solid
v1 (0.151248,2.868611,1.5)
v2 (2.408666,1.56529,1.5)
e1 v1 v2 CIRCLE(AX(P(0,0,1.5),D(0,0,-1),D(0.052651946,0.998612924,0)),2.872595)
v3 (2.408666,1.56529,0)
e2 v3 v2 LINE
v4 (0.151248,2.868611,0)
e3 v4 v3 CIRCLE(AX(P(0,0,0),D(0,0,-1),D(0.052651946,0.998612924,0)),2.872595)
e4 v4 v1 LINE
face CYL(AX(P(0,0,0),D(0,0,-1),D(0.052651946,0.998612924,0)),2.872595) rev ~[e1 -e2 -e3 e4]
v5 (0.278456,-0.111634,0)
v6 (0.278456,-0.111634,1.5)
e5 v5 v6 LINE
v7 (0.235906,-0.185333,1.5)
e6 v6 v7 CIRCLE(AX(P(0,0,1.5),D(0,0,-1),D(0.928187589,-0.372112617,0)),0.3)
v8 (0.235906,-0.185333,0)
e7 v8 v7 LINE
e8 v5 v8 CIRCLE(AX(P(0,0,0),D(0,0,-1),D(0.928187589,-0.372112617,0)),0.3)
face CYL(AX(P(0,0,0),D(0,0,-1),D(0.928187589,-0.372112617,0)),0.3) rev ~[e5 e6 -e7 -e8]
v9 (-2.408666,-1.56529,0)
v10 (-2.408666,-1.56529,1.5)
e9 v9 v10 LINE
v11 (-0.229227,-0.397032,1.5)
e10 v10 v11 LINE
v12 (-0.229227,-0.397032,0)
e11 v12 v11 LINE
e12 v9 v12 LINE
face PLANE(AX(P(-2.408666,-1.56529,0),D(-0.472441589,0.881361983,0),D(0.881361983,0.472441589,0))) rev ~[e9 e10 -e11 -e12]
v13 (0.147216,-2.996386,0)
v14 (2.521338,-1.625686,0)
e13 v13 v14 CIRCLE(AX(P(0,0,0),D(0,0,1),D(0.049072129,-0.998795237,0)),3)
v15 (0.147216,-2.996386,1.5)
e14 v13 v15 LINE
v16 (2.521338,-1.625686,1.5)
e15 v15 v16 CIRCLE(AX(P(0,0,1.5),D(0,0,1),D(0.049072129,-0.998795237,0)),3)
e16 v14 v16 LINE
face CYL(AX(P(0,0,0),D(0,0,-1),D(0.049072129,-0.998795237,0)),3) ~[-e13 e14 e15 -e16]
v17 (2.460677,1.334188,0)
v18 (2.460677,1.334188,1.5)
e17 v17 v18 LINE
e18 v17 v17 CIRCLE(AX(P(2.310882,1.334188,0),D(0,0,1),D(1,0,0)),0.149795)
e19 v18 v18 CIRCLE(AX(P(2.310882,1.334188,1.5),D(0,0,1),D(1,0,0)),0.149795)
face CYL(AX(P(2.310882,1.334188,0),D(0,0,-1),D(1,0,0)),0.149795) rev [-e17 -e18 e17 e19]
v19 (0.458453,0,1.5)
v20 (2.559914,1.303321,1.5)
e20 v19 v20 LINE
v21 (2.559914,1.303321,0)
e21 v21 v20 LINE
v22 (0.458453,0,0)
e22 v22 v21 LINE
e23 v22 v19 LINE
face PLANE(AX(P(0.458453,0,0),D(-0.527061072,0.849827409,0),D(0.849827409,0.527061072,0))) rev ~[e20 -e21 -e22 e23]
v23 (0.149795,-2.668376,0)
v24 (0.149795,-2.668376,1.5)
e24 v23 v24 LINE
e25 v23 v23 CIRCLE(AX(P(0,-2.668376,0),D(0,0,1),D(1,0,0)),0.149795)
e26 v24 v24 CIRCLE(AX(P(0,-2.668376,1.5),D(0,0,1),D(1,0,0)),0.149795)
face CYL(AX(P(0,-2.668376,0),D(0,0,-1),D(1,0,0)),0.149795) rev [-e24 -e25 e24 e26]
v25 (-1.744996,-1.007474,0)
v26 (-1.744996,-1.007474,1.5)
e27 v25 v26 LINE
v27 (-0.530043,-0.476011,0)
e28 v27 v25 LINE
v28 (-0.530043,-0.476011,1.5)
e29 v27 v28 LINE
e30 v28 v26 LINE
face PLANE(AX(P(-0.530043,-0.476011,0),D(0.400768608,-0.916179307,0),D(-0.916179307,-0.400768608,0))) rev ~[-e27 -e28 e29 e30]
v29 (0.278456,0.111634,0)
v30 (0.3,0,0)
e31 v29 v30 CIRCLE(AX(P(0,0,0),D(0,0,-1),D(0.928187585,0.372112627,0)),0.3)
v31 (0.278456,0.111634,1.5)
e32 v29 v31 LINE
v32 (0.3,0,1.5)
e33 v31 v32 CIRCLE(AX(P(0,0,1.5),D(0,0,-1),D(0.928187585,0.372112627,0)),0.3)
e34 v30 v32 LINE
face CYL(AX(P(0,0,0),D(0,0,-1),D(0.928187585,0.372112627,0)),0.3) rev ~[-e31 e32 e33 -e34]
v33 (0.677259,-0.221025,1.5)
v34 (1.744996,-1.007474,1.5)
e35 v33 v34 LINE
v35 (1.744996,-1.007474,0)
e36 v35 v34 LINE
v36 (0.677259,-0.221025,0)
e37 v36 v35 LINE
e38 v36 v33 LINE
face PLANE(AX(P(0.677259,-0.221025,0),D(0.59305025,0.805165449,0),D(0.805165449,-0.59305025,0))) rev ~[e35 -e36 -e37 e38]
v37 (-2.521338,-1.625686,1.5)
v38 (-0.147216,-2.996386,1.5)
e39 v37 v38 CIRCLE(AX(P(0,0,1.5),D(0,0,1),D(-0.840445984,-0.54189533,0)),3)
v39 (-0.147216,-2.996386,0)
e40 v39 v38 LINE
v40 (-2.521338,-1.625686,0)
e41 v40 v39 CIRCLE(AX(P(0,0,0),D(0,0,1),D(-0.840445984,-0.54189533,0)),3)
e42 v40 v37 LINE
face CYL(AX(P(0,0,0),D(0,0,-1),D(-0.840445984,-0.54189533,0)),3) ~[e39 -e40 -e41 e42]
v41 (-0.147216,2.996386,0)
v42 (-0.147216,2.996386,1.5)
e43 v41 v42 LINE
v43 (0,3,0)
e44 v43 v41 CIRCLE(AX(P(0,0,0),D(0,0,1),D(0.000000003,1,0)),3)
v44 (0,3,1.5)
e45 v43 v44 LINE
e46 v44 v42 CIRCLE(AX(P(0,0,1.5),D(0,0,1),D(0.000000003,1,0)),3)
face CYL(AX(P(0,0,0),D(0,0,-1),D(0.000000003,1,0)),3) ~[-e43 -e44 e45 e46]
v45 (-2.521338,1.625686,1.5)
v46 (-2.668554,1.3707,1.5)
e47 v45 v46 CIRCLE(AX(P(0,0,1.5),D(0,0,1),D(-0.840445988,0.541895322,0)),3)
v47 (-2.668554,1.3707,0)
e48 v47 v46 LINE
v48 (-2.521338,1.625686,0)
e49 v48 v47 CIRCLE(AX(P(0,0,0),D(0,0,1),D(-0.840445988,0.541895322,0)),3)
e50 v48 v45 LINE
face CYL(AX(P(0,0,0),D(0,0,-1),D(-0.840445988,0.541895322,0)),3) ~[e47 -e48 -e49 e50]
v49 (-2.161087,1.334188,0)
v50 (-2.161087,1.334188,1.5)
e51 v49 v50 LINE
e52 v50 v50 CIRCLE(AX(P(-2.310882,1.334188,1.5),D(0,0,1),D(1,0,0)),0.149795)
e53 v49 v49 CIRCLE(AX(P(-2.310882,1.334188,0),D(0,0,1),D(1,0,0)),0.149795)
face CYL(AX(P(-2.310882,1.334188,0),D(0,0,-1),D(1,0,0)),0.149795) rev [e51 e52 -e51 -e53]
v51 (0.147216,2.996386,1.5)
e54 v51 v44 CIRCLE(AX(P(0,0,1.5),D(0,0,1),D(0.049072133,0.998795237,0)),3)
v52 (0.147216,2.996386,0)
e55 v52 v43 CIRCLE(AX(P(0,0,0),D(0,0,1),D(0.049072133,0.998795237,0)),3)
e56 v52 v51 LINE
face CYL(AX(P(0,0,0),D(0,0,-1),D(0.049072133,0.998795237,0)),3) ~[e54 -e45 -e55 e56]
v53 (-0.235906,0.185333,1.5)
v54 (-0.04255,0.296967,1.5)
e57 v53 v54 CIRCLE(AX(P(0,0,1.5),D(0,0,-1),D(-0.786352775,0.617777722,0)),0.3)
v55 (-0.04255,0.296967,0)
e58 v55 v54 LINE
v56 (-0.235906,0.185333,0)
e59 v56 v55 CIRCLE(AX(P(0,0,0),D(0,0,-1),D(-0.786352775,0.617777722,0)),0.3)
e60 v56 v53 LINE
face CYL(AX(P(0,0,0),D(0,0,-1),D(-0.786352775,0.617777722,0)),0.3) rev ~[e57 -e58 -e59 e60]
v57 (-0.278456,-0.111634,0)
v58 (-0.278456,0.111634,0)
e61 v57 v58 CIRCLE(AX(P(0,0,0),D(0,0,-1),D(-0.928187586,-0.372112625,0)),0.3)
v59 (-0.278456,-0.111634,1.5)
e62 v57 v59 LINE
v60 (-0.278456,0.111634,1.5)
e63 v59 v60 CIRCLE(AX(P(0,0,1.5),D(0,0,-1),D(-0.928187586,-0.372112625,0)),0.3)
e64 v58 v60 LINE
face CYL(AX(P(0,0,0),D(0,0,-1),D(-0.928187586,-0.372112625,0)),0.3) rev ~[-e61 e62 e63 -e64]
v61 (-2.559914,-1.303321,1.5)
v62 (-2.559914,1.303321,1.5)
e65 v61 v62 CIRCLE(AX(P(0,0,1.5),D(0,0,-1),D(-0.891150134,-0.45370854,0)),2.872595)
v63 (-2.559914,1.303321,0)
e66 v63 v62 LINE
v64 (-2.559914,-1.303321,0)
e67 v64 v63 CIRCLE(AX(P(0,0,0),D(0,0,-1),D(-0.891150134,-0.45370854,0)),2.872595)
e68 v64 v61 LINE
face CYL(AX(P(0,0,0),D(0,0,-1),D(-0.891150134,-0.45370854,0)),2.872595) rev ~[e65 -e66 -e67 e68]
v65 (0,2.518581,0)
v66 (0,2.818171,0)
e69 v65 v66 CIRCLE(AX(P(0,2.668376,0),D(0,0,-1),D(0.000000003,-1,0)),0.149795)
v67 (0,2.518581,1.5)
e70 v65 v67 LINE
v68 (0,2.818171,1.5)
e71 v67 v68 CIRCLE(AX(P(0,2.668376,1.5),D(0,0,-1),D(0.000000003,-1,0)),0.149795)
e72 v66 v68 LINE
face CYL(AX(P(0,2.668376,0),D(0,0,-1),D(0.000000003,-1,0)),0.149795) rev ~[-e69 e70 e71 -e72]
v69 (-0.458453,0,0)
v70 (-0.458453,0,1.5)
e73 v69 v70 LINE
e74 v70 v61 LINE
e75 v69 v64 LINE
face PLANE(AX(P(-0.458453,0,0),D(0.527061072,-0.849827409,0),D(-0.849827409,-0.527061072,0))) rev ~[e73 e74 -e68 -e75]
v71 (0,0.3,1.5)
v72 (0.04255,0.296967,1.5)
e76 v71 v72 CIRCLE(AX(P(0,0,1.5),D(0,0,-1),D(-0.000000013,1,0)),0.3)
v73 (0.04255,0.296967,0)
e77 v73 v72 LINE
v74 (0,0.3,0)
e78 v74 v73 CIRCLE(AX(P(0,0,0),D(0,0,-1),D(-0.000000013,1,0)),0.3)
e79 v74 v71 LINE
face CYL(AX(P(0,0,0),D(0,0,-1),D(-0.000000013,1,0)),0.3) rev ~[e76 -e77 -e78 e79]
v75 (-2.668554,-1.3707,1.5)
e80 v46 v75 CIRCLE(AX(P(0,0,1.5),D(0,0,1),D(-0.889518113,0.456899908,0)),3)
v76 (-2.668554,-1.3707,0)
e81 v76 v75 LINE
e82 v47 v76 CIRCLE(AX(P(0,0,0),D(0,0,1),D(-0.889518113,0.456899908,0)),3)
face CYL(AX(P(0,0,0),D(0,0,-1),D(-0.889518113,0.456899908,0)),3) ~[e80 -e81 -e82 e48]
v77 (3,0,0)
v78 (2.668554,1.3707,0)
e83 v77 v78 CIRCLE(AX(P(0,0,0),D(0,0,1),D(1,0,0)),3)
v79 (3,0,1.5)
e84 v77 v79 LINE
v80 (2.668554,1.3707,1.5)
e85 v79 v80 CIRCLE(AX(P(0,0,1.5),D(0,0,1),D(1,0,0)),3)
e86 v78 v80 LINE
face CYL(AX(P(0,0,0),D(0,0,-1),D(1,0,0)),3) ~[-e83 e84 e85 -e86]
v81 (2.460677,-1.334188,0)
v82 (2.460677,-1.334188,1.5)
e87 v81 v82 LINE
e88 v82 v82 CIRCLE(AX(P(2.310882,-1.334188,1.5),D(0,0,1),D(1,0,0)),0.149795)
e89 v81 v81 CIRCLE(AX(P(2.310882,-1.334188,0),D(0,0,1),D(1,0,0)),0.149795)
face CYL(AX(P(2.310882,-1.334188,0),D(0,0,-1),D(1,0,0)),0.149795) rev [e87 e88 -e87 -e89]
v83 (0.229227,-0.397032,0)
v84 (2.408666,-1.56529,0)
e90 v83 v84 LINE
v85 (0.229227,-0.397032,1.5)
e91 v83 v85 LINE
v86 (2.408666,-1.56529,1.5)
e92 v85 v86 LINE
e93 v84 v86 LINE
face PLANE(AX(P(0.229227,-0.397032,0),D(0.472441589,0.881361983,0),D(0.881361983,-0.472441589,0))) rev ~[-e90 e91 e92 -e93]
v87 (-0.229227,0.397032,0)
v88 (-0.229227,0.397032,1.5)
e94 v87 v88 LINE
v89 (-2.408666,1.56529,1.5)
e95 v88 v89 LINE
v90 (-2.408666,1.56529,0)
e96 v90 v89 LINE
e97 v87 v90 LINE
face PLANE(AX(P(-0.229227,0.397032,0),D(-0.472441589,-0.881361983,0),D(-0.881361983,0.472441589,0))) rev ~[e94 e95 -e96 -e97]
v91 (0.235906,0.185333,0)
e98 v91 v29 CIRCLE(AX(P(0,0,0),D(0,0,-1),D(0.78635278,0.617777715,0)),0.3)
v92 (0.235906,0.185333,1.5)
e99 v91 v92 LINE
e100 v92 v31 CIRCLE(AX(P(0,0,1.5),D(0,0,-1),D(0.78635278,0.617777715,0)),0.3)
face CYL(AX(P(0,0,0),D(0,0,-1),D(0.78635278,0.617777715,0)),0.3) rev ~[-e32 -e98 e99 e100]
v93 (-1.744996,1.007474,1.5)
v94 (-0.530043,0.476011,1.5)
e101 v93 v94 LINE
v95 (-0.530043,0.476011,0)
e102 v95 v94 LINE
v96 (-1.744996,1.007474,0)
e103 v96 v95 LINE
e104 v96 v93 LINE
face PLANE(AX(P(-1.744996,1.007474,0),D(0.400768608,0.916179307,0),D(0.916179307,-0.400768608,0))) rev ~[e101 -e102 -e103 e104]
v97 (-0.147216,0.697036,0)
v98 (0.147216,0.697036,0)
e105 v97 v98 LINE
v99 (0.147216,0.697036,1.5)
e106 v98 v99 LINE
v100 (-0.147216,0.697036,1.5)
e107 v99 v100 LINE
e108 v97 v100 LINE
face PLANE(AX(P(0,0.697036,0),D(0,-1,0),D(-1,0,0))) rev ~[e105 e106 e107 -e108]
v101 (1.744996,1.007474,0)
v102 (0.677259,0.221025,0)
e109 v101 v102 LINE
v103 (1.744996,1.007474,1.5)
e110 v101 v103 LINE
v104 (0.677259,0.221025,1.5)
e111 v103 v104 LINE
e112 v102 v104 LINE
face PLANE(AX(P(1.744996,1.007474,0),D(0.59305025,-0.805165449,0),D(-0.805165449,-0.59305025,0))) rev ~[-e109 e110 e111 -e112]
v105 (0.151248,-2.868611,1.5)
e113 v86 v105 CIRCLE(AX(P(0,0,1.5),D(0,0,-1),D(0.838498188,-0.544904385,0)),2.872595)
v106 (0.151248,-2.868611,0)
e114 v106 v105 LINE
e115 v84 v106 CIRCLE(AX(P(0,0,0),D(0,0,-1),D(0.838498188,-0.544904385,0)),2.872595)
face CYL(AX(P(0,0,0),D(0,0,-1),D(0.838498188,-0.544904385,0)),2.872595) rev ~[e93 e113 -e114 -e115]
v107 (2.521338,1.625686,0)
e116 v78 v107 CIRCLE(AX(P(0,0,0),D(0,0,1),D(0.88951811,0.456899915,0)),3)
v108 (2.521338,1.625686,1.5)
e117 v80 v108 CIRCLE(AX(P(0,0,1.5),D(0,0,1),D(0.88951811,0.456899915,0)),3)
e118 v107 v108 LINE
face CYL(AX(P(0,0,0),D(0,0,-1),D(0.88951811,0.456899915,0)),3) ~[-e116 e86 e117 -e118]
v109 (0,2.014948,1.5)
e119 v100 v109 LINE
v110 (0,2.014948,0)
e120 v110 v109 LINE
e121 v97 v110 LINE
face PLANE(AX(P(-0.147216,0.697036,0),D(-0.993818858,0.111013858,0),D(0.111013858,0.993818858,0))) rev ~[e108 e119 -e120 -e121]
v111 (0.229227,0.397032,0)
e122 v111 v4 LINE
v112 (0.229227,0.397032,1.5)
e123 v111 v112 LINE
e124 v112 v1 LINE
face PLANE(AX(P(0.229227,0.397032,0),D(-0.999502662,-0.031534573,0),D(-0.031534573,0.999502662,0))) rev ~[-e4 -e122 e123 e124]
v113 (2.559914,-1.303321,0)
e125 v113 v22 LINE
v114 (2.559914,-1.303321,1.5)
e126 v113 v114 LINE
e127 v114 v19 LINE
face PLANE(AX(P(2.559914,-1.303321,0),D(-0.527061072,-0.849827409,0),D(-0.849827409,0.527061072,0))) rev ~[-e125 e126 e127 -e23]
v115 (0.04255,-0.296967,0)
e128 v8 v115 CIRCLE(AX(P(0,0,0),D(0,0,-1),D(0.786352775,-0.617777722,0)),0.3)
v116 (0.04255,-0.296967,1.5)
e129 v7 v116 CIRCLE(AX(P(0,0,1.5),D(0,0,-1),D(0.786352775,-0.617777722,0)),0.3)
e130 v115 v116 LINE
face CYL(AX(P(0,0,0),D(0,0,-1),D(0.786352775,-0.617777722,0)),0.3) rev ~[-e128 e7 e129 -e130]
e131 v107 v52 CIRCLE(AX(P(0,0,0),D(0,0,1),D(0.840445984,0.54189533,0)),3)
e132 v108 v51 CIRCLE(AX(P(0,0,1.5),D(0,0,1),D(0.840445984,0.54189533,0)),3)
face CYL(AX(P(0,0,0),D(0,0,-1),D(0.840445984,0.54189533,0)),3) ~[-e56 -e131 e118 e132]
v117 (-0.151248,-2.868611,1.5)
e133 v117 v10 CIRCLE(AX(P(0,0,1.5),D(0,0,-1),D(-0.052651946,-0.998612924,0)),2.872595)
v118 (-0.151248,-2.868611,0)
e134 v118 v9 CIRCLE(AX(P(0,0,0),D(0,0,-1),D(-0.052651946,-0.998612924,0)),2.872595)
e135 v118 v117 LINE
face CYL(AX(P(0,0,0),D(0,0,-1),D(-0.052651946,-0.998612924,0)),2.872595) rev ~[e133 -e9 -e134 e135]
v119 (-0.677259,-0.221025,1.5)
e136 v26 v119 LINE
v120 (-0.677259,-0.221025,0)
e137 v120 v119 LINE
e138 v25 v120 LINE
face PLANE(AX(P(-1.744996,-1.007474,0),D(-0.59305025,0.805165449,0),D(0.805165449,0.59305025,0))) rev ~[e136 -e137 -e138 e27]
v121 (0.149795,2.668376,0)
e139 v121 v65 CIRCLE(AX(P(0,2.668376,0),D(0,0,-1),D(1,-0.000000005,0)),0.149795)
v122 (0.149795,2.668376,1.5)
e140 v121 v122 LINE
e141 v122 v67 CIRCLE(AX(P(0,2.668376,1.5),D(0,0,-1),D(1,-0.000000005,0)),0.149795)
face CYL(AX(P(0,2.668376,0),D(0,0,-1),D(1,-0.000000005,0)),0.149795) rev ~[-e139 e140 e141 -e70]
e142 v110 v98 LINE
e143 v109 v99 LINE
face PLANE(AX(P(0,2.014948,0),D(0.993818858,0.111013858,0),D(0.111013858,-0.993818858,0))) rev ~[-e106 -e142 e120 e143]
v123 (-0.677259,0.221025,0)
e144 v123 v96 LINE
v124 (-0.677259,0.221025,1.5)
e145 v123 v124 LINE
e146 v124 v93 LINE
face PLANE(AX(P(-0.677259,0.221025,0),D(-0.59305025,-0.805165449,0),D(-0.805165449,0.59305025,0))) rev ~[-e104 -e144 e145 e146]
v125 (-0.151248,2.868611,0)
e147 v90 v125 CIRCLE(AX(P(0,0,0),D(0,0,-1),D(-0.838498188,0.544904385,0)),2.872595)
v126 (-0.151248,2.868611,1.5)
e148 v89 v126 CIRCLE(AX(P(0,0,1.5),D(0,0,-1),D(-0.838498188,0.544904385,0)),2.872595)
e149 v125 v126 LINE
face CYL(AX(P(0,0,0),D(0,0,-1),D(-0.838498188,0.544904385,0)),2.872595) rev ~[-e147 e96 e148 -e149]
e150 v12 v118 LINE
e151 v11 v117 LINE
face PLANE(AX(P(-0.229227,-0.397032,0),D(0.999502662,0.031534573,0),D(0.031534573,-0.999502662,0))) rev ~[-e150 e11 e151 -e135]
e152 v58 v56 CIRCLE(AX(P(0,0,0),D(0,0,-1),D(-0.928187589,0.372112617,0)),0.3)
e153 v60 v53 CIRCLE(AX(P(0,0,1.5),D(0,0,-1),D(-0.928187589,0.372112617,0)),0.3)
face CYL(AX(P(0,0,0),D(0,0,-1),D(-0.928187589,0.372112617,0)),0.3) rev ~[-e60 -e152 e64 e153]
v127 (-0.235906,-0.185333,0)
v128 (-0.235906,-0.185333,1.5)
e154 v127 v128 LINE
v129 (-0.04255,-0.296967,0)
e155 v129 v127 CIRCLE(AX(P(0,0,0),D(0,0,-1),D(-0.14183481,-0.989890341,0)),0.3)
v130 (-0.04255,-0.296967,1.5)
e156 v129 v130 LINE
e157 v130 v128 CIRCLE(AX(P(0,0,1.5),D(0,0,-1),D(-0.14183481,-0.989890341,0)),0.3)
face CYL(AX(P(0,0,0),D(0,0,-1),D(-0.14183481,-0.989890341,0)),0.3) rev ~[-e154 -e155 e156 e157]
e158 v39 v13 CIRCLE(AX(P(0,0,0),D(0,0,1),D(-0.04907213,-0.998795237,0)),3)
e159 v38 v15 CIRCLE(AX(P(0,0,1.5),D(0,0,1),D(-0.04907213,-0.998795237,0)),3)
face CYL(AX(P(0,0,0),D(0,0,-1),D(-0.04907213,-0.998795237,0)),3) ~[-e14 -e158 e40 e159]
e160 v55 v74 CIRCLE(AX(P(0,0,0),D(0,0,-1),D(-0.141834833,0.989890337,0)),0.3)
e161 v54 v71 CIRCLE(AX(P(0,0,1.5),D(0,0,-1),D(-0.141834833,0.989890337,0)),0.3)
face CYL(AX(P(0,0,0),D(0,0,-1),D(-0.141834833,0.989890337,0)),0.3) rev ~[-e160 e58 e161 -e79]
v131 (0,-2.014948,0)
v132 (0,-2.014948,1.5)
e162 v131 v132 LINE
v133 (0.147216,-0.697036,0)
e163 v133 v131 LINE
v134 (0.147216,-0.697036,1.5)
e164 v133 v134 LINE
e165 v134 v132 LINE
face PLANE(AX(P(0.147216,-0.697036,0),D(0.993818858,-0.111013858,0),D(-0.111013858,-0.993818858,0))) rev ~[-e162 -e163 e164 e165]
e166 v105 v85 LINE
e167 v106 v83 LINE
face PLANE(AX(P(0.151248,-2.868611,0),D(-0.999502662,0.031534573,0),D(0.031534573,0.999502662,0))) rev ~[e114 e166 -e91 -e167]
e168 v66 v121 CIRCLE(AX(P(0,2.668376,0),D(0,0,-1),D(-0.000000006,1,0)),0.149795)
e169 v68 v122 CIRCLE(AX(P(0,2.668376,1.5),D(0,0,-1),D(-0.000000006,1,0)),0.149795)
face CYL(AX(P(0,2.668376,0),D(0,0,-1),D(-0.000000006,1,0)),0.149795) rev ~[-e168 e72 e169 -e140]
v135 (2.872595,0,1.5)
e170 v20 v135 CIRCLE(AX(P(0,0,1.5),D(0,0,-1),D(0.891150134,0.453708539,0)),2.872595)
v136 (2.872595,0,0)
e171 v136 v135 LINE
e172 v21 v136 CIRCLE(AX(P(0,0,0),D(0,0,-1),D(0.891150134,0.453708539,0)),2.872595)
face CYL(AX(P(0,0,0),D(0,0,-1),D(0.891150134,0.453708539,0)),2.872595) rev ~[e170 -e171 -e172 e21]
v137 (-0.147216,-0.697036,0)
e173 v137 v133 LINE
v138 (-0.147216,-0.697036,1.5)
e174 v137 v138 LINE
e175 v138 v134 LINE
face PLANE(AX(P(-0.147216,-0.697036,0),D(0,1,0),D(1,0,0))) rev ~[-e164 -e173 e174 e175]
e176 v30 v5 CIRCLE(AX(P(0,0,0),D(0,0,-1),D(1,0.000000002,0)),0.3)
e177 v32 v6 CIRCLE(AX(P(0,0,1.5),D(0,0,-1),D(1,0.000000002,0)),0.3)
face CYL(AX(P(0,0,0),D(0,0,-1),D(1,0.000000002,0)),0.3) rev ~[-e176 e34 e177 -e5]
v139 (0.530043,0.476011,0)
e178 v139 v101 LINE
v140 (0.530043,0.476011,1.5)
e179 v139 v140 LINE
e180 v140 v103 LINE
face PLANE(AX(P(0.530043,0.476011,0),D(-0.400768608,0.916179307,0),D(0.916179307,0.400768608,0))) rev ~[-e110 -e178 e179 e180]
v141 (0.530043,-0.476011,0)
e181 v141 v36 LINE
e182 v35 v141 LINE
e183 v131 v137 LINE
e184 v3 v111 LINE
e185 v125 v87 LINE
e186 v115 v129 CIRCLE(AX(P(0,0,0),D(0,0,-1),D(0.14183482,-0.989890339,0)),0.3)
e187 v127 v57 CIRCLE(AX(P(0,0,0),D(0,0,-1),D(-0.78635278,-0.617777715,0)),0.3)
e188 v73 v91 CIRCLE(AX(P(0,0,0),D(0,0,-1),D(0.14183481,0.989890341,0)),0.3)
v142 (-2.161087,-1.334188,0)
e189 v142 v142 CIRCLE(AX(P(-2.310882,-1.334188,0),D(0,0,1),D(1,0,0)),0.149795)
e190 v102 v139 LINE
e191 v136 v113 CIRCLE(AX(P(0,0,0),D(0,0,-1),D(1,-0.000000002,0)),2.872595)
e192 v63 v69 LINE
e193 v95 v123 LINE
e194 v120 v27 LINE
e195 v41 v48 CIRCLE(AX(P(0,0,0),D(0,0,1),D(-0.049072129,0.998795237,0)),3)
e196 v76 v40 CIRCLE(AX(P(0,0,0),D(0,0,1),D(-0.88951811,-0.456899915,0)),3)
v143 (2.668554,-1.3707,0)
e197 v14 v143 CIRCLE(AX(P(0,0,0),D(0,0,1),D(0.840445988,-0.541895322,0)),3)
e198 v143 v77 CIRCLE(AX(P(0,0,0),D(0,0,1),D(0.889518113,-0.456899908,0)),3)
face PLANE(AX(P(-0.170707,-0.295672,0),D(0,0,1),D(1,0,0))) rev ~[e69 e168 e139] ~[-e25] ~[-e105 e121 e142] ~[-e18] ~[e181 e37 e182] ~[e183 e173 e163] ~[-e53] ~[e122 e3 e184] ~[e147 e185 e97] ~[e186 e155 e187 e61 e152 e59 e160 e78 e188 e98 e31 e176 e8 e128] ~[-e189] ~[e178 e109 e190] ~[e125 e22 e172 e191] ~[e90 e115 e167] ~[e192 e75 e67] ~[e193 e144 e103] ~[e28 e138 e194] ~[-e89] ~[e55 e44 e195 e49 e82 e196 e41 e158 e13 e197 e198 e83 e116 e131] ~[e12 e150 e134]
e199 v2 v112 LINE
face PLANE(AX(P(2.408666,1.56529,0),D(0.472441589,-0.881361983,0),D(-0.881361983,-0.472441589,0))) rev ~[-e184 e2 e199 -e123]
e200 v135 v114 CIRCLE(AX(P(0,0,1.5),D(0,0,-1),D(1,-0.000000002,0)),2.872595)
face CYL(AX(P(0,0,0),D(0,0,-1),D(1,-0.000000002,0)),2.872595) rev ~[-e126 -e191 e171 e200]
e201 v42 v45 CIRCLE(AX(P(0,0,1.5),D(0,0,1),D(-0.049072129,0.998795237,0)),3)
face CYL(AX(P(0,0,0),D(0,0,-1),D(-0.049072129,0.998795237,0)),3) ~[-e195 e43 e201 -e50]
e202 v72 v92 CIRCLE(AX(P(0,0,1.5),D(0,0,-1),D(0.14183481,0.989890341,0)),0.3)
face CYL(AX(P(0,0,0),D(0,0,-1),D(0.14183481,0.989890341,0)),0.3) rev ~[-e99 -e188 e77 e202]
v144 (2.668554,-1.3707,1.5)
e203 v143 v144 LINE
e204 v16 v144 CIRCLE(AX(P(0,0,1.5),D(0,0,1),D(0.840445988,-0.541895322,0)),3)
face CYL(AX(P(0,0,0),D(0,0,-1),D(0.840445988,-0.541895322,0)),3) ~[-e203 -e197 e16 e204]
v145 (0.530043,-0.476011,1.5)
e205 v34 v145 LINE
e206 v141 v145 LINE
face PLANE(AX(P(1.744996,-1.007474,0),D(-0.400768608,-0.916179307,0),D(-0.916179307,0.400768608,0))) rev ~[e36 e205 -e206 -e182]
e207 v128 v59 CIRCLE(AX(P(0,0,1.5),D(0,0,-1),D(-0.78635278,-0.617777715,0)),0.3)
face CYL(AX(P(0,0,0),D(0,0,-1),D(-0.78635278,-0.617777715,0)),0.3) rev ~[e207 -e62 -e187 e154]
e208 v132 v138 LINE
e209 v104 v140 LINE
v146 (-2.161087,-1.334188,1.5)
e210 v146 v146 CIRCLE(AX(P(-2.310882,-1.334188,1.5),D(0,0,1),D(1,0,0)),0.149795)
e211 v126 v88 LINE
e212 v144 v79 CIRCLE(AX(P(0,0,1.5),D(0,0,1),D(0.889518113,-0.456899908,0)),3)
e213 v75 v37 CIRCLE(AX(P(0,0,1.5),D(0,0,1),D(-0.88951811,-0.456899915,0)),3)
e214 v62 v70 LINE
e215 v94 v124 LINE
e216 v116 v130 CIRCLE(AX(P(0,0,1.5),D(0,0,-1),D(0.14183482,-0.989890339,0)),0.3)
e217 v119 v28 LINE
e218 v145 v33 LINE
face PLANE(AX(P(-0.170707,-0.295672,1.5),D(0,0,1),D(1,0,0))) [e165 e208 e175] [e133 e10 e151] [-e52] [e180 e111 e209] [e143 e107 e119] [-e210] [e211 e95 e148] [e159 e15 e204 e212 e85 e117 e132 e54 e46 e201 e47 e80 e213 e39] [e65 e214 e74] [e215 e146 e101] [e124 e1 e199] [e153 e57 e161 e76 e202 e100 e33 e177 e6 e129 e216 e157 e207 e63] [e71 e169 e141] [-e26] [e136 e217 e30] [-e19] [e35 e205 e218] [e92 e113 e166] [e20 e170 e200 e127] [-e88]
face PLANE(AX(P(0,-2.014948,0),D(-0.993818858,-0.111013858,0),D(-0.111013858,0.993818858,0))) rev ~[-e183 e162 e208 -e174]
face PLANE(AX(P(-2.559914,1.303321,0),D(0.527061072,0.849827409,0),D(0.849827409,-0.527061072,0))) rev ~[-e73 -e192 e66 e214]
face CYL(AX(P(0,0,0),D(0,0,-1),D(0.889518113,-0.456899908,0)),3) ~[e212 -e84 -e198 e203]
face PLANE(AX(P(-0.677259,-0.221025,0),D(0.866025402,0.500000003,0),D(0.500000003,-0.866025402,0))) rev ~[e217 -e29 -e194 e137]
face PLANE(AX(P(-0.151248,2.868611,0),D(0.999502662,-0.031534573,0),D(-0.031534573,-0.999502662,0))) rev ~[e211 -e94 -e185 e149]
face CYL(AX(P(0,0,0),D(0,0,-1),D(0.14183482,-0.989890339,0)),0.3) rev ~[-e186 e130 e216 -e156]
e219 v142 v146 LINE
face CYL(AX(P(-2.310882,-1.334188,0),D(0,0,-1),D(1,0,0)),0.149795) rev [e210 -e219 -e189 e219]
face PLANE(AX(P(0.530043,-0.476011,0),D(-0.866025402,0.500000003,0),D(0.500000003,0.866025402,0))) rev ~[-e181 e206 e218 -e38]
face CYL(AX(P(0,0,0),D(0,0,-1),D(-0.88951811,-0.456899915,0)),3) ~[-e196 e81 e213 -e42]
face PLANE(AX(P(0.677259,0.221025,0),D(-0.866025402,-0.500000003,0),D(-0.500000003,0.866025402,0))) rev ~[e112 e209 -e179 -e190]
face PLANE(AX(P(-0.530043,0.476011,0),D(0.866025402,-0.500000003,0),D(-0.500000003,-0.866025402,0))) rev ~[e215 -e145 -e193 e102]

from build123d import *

# Parameters (mm, degrees)
SKETCH1_R           = 0.14979499
BOSS_EXTRUDE1_DEPTH = 1.5


with BuildPart() as part:
    # Sketch1 → Boss-Extrude1 (new body)
    # profile 1 of 26: a face of its own
    with BuildSketch(Plane.XY):
        with BuildLine():
            Line((-0.151247724, 2.868610652), (-0.147216387, 2.996385712))
            ThreePointArc((-0.147216387, 2.996385712), (-1.5, 2.598076211), (-2.521337953, 1.625685987))
            Line((-2.521337953, 1.625685987), (-2.408665836, 1.565289697))
            ThreePointArc((-2.408665836, 1.565289697), (-1.436297579, 2.487740382), (-0.151247724, 2.868610652))
        make_face()
    # profile 2 of 26: a face of its own
    with BuildSketch(Plane.XY):
        with BuildLine():
            Line((0, 2.872595159), (0, 3))
            ThreePointArc((0, 3), (-0.073630374, 2.999096292), (-0.147216387, 2.996385712))
            Line((-0.147216387, 2.996385712), (-0.151247724, 2.868610652))
            ThreePointArc((-0.151247724, 2.868610652), (-0.0756501, 2.871598859), (0, 2.872595159))
        make_face()
    # profile 3 of 26: a face of its own
    with BuildSketch(Plane.XY):
        with BuildLine():
            ThreePointArc((0.147216387, 2.996385712), (0.073630374, 2.999096292), (0, 3))
            Line((0, 3), (0, 2.872595159))
            ThreePointArc((0, 2.872595159), (0.0756501, 2.871598859), (0.151247724, 2.868610652))
            Line((0.151247724, 2.868610652), (0.147216387, 2.996385712))
        make_face()
    # profile 4 of 26: a face of its own
    with BuildSketch(Plane.XY):
        with BuildLine():
            ThreePointArc((2.521337953, 1.625685987), (1.5, 2.598076211), (0.147216387, 2.996385712))
            Line((0.147216387, 2.996385712), (0.151247724, 2.868610652))
            ThreePointArc((0.151247724, 2.868610652), (1.436297579, 2.487740382), (2.408665836, 1.565289697))
            Line((2.408665836, 1.565289697), (2.521337953, 1.625685987))
        make_face()
    # profile 5 of 26: a face of its own
    with BuildSketch(Plane.XY):
        with BuildLine():
            ThreePointArc((0.147216387, -2.996385712), (1.5, -2.598076211), (2.521337953, -1.625685987))
            Line((2.521337953, -1.625685987), (2.408665836, -1.565289697))
            ThreePointArc((2.408665836, -1.565289697), (1.436297579, -2.487740382), (0.151247724, -2.868610652))
            Line((0.151247724, -2.868610652), (0.147216387, -2.996385712))
        make_face()
    # profile 6 of 26: a face of its own
    with BuildSketch(Plane.XY):
        with BuildLine():
            ThreePointArc((2.521337953, -1.625685987), (2.598076211, -1.5), (2.66855434, -1.370699725))
            Line((2.66855434, -1.370699725), (2.55991356, -1.303320955))
            ThreePointArc((2.55991356, -1.303320955), (2.487740382, -1.436297579), (2.408665836, -1.565289697))
            Line((2.408665836, -1.565289697), (2.521337953, -1.625685987))
        make_face()
    # profile 7 of 26: a face of its own
    with BuildSketch(Plane.XY):
        with BuildLine():
            ThreePointArc((3, 0), (2.915961507, 0.705101759), (2.66855434, 1.370699725))
            Line((2.66855434, 1.370699725), (2.55991356, 1.303320955))
            ThreePointArc((2.55991356, 1.303320955), (2.793331187, 0.67015209), (2.872595159, 0))
            ThreePointArc((2.872595159, 0), (2.793331187, -0.67015209), (2.55991356, -1.303320955))
            Line((2.55991356, -1.303320955), (2.66855434, -1.370699725))
            ThreePointArc((2.66855434, -1.370699725), (2.915961507, -0.705101759), (3, 0))
        make_face()
    # profile 8 of 26: a face of its own
    with BuildSketch(Plane.XY):
        with BuildLine():
            Line((-2.408665836, -1.565289697), (-2.521337953, -1.625685987))
            ThreePointArc((-2.521337953, -1.625685987), (-1.5, -2.598076211), (-0.147216387, -2.996385712))
            Line((-0.147216387, -2.996385712), (-0.151247724, -2.868610652))
            ThreePointArc((-0.151247724, -2.868610652), (-1.436297579, -2.487740382), (-2.408665836, -1.565289697))
        make_face()
    # profile 9 of 26: a face of its own
    with BuildSketch(Plane.XY):
        with BuildLine():
            Line((-0.151247724, -2.868610652), (-0.147216387, -2.996385712))
            ThreePointArc((-0.147216387, -2.996385712), (0, -3), (0.147216387, -2.996385712))
            Line((0.147216387, -2.996385712), (0.151247724, -2.868610652))
            ThreePointArc((0.151247724, -2.868610652), (0, -2.872595159), (-0.151247724, -2.868610652))
        make_face()
    # profile 10 of 26: a face of its own
    with BuildSketch(Plane.XY):
        with BuildLine():
            Line((-2.55991356, -1.303320955), (-2.66855434, -1.370699725))
            ThreePointArc((-2.66855434, -1.370699725), (-2.598076211, -1.5), (-2.521337953, -1.625685987))
            Line((-2.521337953, -1.625685987), (-2.408665836, -1.565289697))
            ThreePointArc((-2.408665836, -1.565289697), (-2.487740382, -1.436297579), (-2.55991356, -1.303320955))
        make_face()
    # profile 11 of 26: a face of its own
    with BuildSketch(Plane.XY):
        with BuildLine():
            Line((-2.55991356, 1.303320955), (-2.66855434, 1.370699725))
            ThreePointArc((-2.66855434, 1.370699725), (-3, 0), (-2.66855434, -1.370699725))
            Line((-2.66855434, -1.370699725), (-2.55991356, -1.303320955))
            ThreePointArc((-2.55991356, -1.303320955), (-2.872595159, 0), (-2.55991356, 1.303320955))
        make_face()
    # profile 12 of 26: a face of its own
    with BuildSketch(Plane.XY):
        with BuildLine():
            ThreePointArc((2.66855434, 1.370699725), (2.598076211, 1.5), (2.521337953, 1.625685987))
            Line((2.521337953, 1.625685987), (2.408665836, 1.565289697))
            ThreePointArc((2.408665836, 1.565289697), (2.487740382, 1.436297579), (2.55991356, 1.303320955))
            Line((2.55991356, 1.303320955), (2.66855434, 1.370699725))
        make_face()
    # profile 13 of 26: a face of its own
    with BuildSketch(Plane.XY):
        with BuildLine():
            Line((-2.408665836, 1.565289697), (-2.521337953, 1.625685987))
            ThreePointArc((-2.521337953, 1.625685987), (-2.598076211, 1.5), (-2.66855434, 1.370699725))
            Line((-2.66855434, 1.370699725), (-2.55991356, 1.303320955))
            ThreePointArc((-2.55991356, 1.303320955), (-2.487740382, 1.436297579), (-2.408665836, 1.565289697))
        make_face()
    # profile 14 of 26: a face of its own
    with BuildSketch(Plane.XY):
        with BuildLine():
            Line((-0.235905833, 0.185333316), (-0.229226676, 0.397032249))
            Line((-0.229226676, 0.397032249), (-2.408665836, 1.565289697))
            ThreePointArc((-2.408665836, 1.565289697), (-2.487740382, 1.436297579), (-2.55991356, 1.303320955))
            Line((-2.55991356, 1.303320955), (-0.458453352, 0))
            Line((-0.458453352, 0), (-0.278456276, 0.111633786))
            ThreePointArc((-0.278456276, 0.111633786), (-0.259807621, 0.15), (-0.235905833, 0.185333316))
        make_face()
        with Locations((-2.31088182, 1.334188241)):
            Circle(SKETCH1_R, mode=Mode.SUBTRACT)
        Polygon((-0.530042873, 0.476011237), (-0.677259261, 0.221024975), (-1.744995763, 1.007473773), align=None, mode=Mode.SUBTRACT)
    # profile 15 of 26: a face of its own
    with BuildSketch(Plane.XY):
        with BuildLine():
            Line((-0.278456276, -0.111633786), (-0.458453352, 0))
            Line((-0.458453352, 0), (-2.55991356, -1.303320955))
            ThreePointArc((-2.55991356, -1.303320955), (-2.487740382, -1.436297579), (-2.408665836, -1.565289697))
            Line((-2.408665836, -1.565289697), (-0.229226676, -0.397032249))
            Line((-0.229226676, -0.397032249), (-0.235905833, -0.185333316))
            ThreePointArc((-0.235905833, -0.185333316), (-0.259807621, -0.15), (-0.278456276, -0.111633786))
        make_face()
        with Locations((-2.31088182, -1.334188241)):
            Circle(SKETCH1_R, mode=Mode.SUBTRACT)
        Polygon((-0.677259261, -0.221024975), (-0.530042873, -0.476011237), (-1.744995763, -1.007473773), align=None, mode=Mode.SUBTRACT)
    # profile 16 of 26: a face of its own
    with BuildSketch(Plane.XY):
        with BuildLine():
            ThreePointArc((-0.278456276, -0.111633786), (-0.3, 0), (-0.278456276, 0.111633786))
            Line((-0.278456276, 0.111633786), (-0.458453352, 0))
            Line((-0.458453352, 0), (-0.278456276, -0.111633786))
        make_face()
    # profile 17 of 26: a face of its own
    with BuildSketch(Plane.XY):
        with BuildLine():
            Line((-0.042550443, 0.296967102), (-0.229226676, 0.397032249))
            Line((-0.229226676, 0.397032249), (-0.235905833, 0.185333316))
            ThreePointArc((-0.235905833, 0.185333316), (-0.15, 0.259807621), (-0.042550443, 0.296967102))
        make_face()
    # profile 18 of 26: a face of its own
    with BuildSketch(Plane.XY):
        with BuildLine():
            ThreePointArc((0.151247724, 2.868610652), (0.0756501, 2.871598859), (0, 2.872595159))
            Line((0, 2.872595159), (0, 2.818171471))
            ThreePointArc((0, 2.818171471), (0.105921053, 2.774297535), (0.14979499, 2.668376482))
            ThreePointArc((0.14979499, 2.668376482), (0.105921053, 2.562455429), (0, 2.518581492))
            Line((0, 2.518581492), (0, 2.014947547))
            Line((0, 2.014947547), (0.147216387, 0.697036212))
            Line((0.147216387, 0.697036212), (0, 0.697036212))
            Line((0, 0.697036212), (0, 0.3))
            ThreePointArc((0, 0.3), (0.021329198, 0.299240815), (0.042550443, 0.296967102))
            Line((0.042550443, 0.296967102), (0.229226676, 0.397032249))
            Line((0.229226676, 0.397032249), (0.151247724, 2.868610652))
        make_face()
    # profile 19 of 26: a face of its own
    with BuildSketch(Plane.XY):
        with BuildLine():
            Line((0, 2.818171471), (0, 2.872595159))
            ThreePointArc((0, 2.872595159), (-0.0756501, 2.871598859), (-0.151247724, 2.868610652))
            Line((-0.151247724, 2.868610652), (-0.229226676, 0.397032249))
            Line((-0.229226676, 0.397032249), (-0.042550443, 0.296967102))
            ThreePointArc((-0.042550443, 0.296967102), (-0.021329198, 0.299240815), (0, 0.3))
            Line((0, 0.3), (0, 0.697036212))
            Line((0, 0.697036212), (-0.147216387, 0.697036212))
            Line((-0.147216387, 0.697036212), (0, 2.014947547))
            Line((0, 2.014947547), (0, 2.518581492))
            ThreePointArc((0, 2.518581492), (-0.14979499, 2.668376482), (0, 2.818171471))
        make_face()
    # profile 20 of 26: a face of its own
    with BuildSketch(Plane.XY):
        with BuildLine():
            Line((0.235905833, 0.185333316), (0.229226676, 0.397032249))
            Line((0.229226676, 0.397032249), (0.042550443, 0.296967102))
            ThreePointArc((0.042550443, 0.296967102), (0.15, 0.259807621), (0.235905833, 0.185333316))
        make_face()
    # profile 21 of 26: a face of its own
    with BuildSketch(Plane.XY):
        with BuildLine():
            Line((2.408665836, 1.565289697), (0.229226676, 0.397032249))
            Line((0.229226676, 0.397032249), (0.235905833, 0.185333316))
            ThreePointArc((0.235905833, 0.185333316), (0.259807621, 0.15), (0.278456276, 0.111633786))
            Line((0.278456276, 0.111633786), (0.458453352, 0))
            Line((0.458453352, 0), (2.55991356, 1.303320955))
            ThreePointArc((2.55991356, 1.303320955), (2.487740382, 1.436297579), (2.408665836, 1.565289697))
        make_face()
        Polygon((0.677259261, 0.221024975), (0.530042873, 0.476011237), (1.744995763, 1.007473773), align=None, mode=Mode.SUBTRACT)
        with Locations((2.31088182, 1.334188241)):
            Circle(SKETCH1_R, mode=Mode.SUBTRACT)
    # profile 22 of 26: a face of its own
    with BuildSketch(Plane.XY):
        with BuildLine():
            Line((0.458453352, 0), (0.278456276, 0.111633786))
            ThreePointArc((0.278456276, 0.111633786), (0.294564834, 0.056846799), (0.3, 0))
            ThreePointArc((0.3, 0), (0.294564834, -0.056846799), (0.278456276, -0.111633786))
            Line((0.278456276, -0.111633786), (0.458453352, 0))
        make_face()
    # profile 23 of 26: a face of its own
    with BuildSketch(Plane.XY):
        with BuildLine():
            Line((2.55991356, -1.303320955), (0.458453352, 0))
            Line((0.458453352, 0), (0.278456276, -0.111633786))
            ThreePointArc((0.278456276, -0.111633786), (0.259807621, -0.15), (0.235905833, -0.185333316))
            Line((0.235905833, -0.185333316), (0.229226676, -0.397032249))
            Line((0.229226676, -0.397032249), (2.408665836, -1.565289697))
            ThreePointArc((2.408665836, -1.565289697), (2.487740382, -1.436297579), (2.55991356, -1.303320955))
        make_face()
        Polygon((0.530042873, -0.476011237), (0.677259261, -0.221024975), (1.744995763, -1.007473773), align=None, mode=Mode.SUBTRACT)
        with Locations((2.31088182, -1.334188241)):
            Circle(SKETCH1_R, mode=Mode.SUBTRACT)
    # profile 24 of 26: a face of its own
    with BuildSketch(Plane.XY):
        with BuildLine():
            Line((0.229226676, -0.397032249), (0.235905833, -0.185333316))
            ThreePointArc((0.235905833, -0.185333316), (0.15, -0.259807621), (0.042550443, -0.296967102))
            Line((0.042550443, -0.296967102), (0.229226676, -0.397032249))
        make_face()
    # profile 25 of 26: a face of its own
    with BuildSketch(Plane.XY):
        with BuildLine():
            Line((-0.042550443, -0.296967102), (-0.229226676, -0.397032249))
            Line((-0.229226676, -0.397032249), (-0.151247724, -2.868610652))
            ThreePointArc((-0.151247724, -2.868610652), (0, -2.872595159), (0.151247724, -2.868610652))
            Line((0.151247724, -2.868610652), (0.229226676, -0.397032249))
            Line((0.229226676, -0.397032249), (0.042550443, -0.296967102))
            ThreePointArc((0.042550443, -0.296967102), (0, -0.3), (-0.042550443, -0.296967102))
        make_face()
        with Locations((0, -2.668376482)):
            Circle(SKETCH1_R, mode=Mode.SUBTRACT)
        Polygon((-0.147216387, -0.697036212), (0.147216387, -0.697036212), (0, -2.014947547), align=None, mode=Mode.SUBTRACT)
    # profile 26 of 26: a face of its own
    with BuildSketch(Plane.XY):
        with BuildLine():
            ThreePointArc((-0.042550443, -0.296967102), (-0.15, -0.259807621), (-0.235905833, -0.185333316))
            Line((-0.235905833, -0.185333316), (-0.229226676, -0.397032249))
            Line((-0.229226676, -0.397032249), (-0.042550443, -0.296967102))
        make_face()
    extrude(amount=BOSS_EXTRUDE1_DEPTH)


solid = part.part
